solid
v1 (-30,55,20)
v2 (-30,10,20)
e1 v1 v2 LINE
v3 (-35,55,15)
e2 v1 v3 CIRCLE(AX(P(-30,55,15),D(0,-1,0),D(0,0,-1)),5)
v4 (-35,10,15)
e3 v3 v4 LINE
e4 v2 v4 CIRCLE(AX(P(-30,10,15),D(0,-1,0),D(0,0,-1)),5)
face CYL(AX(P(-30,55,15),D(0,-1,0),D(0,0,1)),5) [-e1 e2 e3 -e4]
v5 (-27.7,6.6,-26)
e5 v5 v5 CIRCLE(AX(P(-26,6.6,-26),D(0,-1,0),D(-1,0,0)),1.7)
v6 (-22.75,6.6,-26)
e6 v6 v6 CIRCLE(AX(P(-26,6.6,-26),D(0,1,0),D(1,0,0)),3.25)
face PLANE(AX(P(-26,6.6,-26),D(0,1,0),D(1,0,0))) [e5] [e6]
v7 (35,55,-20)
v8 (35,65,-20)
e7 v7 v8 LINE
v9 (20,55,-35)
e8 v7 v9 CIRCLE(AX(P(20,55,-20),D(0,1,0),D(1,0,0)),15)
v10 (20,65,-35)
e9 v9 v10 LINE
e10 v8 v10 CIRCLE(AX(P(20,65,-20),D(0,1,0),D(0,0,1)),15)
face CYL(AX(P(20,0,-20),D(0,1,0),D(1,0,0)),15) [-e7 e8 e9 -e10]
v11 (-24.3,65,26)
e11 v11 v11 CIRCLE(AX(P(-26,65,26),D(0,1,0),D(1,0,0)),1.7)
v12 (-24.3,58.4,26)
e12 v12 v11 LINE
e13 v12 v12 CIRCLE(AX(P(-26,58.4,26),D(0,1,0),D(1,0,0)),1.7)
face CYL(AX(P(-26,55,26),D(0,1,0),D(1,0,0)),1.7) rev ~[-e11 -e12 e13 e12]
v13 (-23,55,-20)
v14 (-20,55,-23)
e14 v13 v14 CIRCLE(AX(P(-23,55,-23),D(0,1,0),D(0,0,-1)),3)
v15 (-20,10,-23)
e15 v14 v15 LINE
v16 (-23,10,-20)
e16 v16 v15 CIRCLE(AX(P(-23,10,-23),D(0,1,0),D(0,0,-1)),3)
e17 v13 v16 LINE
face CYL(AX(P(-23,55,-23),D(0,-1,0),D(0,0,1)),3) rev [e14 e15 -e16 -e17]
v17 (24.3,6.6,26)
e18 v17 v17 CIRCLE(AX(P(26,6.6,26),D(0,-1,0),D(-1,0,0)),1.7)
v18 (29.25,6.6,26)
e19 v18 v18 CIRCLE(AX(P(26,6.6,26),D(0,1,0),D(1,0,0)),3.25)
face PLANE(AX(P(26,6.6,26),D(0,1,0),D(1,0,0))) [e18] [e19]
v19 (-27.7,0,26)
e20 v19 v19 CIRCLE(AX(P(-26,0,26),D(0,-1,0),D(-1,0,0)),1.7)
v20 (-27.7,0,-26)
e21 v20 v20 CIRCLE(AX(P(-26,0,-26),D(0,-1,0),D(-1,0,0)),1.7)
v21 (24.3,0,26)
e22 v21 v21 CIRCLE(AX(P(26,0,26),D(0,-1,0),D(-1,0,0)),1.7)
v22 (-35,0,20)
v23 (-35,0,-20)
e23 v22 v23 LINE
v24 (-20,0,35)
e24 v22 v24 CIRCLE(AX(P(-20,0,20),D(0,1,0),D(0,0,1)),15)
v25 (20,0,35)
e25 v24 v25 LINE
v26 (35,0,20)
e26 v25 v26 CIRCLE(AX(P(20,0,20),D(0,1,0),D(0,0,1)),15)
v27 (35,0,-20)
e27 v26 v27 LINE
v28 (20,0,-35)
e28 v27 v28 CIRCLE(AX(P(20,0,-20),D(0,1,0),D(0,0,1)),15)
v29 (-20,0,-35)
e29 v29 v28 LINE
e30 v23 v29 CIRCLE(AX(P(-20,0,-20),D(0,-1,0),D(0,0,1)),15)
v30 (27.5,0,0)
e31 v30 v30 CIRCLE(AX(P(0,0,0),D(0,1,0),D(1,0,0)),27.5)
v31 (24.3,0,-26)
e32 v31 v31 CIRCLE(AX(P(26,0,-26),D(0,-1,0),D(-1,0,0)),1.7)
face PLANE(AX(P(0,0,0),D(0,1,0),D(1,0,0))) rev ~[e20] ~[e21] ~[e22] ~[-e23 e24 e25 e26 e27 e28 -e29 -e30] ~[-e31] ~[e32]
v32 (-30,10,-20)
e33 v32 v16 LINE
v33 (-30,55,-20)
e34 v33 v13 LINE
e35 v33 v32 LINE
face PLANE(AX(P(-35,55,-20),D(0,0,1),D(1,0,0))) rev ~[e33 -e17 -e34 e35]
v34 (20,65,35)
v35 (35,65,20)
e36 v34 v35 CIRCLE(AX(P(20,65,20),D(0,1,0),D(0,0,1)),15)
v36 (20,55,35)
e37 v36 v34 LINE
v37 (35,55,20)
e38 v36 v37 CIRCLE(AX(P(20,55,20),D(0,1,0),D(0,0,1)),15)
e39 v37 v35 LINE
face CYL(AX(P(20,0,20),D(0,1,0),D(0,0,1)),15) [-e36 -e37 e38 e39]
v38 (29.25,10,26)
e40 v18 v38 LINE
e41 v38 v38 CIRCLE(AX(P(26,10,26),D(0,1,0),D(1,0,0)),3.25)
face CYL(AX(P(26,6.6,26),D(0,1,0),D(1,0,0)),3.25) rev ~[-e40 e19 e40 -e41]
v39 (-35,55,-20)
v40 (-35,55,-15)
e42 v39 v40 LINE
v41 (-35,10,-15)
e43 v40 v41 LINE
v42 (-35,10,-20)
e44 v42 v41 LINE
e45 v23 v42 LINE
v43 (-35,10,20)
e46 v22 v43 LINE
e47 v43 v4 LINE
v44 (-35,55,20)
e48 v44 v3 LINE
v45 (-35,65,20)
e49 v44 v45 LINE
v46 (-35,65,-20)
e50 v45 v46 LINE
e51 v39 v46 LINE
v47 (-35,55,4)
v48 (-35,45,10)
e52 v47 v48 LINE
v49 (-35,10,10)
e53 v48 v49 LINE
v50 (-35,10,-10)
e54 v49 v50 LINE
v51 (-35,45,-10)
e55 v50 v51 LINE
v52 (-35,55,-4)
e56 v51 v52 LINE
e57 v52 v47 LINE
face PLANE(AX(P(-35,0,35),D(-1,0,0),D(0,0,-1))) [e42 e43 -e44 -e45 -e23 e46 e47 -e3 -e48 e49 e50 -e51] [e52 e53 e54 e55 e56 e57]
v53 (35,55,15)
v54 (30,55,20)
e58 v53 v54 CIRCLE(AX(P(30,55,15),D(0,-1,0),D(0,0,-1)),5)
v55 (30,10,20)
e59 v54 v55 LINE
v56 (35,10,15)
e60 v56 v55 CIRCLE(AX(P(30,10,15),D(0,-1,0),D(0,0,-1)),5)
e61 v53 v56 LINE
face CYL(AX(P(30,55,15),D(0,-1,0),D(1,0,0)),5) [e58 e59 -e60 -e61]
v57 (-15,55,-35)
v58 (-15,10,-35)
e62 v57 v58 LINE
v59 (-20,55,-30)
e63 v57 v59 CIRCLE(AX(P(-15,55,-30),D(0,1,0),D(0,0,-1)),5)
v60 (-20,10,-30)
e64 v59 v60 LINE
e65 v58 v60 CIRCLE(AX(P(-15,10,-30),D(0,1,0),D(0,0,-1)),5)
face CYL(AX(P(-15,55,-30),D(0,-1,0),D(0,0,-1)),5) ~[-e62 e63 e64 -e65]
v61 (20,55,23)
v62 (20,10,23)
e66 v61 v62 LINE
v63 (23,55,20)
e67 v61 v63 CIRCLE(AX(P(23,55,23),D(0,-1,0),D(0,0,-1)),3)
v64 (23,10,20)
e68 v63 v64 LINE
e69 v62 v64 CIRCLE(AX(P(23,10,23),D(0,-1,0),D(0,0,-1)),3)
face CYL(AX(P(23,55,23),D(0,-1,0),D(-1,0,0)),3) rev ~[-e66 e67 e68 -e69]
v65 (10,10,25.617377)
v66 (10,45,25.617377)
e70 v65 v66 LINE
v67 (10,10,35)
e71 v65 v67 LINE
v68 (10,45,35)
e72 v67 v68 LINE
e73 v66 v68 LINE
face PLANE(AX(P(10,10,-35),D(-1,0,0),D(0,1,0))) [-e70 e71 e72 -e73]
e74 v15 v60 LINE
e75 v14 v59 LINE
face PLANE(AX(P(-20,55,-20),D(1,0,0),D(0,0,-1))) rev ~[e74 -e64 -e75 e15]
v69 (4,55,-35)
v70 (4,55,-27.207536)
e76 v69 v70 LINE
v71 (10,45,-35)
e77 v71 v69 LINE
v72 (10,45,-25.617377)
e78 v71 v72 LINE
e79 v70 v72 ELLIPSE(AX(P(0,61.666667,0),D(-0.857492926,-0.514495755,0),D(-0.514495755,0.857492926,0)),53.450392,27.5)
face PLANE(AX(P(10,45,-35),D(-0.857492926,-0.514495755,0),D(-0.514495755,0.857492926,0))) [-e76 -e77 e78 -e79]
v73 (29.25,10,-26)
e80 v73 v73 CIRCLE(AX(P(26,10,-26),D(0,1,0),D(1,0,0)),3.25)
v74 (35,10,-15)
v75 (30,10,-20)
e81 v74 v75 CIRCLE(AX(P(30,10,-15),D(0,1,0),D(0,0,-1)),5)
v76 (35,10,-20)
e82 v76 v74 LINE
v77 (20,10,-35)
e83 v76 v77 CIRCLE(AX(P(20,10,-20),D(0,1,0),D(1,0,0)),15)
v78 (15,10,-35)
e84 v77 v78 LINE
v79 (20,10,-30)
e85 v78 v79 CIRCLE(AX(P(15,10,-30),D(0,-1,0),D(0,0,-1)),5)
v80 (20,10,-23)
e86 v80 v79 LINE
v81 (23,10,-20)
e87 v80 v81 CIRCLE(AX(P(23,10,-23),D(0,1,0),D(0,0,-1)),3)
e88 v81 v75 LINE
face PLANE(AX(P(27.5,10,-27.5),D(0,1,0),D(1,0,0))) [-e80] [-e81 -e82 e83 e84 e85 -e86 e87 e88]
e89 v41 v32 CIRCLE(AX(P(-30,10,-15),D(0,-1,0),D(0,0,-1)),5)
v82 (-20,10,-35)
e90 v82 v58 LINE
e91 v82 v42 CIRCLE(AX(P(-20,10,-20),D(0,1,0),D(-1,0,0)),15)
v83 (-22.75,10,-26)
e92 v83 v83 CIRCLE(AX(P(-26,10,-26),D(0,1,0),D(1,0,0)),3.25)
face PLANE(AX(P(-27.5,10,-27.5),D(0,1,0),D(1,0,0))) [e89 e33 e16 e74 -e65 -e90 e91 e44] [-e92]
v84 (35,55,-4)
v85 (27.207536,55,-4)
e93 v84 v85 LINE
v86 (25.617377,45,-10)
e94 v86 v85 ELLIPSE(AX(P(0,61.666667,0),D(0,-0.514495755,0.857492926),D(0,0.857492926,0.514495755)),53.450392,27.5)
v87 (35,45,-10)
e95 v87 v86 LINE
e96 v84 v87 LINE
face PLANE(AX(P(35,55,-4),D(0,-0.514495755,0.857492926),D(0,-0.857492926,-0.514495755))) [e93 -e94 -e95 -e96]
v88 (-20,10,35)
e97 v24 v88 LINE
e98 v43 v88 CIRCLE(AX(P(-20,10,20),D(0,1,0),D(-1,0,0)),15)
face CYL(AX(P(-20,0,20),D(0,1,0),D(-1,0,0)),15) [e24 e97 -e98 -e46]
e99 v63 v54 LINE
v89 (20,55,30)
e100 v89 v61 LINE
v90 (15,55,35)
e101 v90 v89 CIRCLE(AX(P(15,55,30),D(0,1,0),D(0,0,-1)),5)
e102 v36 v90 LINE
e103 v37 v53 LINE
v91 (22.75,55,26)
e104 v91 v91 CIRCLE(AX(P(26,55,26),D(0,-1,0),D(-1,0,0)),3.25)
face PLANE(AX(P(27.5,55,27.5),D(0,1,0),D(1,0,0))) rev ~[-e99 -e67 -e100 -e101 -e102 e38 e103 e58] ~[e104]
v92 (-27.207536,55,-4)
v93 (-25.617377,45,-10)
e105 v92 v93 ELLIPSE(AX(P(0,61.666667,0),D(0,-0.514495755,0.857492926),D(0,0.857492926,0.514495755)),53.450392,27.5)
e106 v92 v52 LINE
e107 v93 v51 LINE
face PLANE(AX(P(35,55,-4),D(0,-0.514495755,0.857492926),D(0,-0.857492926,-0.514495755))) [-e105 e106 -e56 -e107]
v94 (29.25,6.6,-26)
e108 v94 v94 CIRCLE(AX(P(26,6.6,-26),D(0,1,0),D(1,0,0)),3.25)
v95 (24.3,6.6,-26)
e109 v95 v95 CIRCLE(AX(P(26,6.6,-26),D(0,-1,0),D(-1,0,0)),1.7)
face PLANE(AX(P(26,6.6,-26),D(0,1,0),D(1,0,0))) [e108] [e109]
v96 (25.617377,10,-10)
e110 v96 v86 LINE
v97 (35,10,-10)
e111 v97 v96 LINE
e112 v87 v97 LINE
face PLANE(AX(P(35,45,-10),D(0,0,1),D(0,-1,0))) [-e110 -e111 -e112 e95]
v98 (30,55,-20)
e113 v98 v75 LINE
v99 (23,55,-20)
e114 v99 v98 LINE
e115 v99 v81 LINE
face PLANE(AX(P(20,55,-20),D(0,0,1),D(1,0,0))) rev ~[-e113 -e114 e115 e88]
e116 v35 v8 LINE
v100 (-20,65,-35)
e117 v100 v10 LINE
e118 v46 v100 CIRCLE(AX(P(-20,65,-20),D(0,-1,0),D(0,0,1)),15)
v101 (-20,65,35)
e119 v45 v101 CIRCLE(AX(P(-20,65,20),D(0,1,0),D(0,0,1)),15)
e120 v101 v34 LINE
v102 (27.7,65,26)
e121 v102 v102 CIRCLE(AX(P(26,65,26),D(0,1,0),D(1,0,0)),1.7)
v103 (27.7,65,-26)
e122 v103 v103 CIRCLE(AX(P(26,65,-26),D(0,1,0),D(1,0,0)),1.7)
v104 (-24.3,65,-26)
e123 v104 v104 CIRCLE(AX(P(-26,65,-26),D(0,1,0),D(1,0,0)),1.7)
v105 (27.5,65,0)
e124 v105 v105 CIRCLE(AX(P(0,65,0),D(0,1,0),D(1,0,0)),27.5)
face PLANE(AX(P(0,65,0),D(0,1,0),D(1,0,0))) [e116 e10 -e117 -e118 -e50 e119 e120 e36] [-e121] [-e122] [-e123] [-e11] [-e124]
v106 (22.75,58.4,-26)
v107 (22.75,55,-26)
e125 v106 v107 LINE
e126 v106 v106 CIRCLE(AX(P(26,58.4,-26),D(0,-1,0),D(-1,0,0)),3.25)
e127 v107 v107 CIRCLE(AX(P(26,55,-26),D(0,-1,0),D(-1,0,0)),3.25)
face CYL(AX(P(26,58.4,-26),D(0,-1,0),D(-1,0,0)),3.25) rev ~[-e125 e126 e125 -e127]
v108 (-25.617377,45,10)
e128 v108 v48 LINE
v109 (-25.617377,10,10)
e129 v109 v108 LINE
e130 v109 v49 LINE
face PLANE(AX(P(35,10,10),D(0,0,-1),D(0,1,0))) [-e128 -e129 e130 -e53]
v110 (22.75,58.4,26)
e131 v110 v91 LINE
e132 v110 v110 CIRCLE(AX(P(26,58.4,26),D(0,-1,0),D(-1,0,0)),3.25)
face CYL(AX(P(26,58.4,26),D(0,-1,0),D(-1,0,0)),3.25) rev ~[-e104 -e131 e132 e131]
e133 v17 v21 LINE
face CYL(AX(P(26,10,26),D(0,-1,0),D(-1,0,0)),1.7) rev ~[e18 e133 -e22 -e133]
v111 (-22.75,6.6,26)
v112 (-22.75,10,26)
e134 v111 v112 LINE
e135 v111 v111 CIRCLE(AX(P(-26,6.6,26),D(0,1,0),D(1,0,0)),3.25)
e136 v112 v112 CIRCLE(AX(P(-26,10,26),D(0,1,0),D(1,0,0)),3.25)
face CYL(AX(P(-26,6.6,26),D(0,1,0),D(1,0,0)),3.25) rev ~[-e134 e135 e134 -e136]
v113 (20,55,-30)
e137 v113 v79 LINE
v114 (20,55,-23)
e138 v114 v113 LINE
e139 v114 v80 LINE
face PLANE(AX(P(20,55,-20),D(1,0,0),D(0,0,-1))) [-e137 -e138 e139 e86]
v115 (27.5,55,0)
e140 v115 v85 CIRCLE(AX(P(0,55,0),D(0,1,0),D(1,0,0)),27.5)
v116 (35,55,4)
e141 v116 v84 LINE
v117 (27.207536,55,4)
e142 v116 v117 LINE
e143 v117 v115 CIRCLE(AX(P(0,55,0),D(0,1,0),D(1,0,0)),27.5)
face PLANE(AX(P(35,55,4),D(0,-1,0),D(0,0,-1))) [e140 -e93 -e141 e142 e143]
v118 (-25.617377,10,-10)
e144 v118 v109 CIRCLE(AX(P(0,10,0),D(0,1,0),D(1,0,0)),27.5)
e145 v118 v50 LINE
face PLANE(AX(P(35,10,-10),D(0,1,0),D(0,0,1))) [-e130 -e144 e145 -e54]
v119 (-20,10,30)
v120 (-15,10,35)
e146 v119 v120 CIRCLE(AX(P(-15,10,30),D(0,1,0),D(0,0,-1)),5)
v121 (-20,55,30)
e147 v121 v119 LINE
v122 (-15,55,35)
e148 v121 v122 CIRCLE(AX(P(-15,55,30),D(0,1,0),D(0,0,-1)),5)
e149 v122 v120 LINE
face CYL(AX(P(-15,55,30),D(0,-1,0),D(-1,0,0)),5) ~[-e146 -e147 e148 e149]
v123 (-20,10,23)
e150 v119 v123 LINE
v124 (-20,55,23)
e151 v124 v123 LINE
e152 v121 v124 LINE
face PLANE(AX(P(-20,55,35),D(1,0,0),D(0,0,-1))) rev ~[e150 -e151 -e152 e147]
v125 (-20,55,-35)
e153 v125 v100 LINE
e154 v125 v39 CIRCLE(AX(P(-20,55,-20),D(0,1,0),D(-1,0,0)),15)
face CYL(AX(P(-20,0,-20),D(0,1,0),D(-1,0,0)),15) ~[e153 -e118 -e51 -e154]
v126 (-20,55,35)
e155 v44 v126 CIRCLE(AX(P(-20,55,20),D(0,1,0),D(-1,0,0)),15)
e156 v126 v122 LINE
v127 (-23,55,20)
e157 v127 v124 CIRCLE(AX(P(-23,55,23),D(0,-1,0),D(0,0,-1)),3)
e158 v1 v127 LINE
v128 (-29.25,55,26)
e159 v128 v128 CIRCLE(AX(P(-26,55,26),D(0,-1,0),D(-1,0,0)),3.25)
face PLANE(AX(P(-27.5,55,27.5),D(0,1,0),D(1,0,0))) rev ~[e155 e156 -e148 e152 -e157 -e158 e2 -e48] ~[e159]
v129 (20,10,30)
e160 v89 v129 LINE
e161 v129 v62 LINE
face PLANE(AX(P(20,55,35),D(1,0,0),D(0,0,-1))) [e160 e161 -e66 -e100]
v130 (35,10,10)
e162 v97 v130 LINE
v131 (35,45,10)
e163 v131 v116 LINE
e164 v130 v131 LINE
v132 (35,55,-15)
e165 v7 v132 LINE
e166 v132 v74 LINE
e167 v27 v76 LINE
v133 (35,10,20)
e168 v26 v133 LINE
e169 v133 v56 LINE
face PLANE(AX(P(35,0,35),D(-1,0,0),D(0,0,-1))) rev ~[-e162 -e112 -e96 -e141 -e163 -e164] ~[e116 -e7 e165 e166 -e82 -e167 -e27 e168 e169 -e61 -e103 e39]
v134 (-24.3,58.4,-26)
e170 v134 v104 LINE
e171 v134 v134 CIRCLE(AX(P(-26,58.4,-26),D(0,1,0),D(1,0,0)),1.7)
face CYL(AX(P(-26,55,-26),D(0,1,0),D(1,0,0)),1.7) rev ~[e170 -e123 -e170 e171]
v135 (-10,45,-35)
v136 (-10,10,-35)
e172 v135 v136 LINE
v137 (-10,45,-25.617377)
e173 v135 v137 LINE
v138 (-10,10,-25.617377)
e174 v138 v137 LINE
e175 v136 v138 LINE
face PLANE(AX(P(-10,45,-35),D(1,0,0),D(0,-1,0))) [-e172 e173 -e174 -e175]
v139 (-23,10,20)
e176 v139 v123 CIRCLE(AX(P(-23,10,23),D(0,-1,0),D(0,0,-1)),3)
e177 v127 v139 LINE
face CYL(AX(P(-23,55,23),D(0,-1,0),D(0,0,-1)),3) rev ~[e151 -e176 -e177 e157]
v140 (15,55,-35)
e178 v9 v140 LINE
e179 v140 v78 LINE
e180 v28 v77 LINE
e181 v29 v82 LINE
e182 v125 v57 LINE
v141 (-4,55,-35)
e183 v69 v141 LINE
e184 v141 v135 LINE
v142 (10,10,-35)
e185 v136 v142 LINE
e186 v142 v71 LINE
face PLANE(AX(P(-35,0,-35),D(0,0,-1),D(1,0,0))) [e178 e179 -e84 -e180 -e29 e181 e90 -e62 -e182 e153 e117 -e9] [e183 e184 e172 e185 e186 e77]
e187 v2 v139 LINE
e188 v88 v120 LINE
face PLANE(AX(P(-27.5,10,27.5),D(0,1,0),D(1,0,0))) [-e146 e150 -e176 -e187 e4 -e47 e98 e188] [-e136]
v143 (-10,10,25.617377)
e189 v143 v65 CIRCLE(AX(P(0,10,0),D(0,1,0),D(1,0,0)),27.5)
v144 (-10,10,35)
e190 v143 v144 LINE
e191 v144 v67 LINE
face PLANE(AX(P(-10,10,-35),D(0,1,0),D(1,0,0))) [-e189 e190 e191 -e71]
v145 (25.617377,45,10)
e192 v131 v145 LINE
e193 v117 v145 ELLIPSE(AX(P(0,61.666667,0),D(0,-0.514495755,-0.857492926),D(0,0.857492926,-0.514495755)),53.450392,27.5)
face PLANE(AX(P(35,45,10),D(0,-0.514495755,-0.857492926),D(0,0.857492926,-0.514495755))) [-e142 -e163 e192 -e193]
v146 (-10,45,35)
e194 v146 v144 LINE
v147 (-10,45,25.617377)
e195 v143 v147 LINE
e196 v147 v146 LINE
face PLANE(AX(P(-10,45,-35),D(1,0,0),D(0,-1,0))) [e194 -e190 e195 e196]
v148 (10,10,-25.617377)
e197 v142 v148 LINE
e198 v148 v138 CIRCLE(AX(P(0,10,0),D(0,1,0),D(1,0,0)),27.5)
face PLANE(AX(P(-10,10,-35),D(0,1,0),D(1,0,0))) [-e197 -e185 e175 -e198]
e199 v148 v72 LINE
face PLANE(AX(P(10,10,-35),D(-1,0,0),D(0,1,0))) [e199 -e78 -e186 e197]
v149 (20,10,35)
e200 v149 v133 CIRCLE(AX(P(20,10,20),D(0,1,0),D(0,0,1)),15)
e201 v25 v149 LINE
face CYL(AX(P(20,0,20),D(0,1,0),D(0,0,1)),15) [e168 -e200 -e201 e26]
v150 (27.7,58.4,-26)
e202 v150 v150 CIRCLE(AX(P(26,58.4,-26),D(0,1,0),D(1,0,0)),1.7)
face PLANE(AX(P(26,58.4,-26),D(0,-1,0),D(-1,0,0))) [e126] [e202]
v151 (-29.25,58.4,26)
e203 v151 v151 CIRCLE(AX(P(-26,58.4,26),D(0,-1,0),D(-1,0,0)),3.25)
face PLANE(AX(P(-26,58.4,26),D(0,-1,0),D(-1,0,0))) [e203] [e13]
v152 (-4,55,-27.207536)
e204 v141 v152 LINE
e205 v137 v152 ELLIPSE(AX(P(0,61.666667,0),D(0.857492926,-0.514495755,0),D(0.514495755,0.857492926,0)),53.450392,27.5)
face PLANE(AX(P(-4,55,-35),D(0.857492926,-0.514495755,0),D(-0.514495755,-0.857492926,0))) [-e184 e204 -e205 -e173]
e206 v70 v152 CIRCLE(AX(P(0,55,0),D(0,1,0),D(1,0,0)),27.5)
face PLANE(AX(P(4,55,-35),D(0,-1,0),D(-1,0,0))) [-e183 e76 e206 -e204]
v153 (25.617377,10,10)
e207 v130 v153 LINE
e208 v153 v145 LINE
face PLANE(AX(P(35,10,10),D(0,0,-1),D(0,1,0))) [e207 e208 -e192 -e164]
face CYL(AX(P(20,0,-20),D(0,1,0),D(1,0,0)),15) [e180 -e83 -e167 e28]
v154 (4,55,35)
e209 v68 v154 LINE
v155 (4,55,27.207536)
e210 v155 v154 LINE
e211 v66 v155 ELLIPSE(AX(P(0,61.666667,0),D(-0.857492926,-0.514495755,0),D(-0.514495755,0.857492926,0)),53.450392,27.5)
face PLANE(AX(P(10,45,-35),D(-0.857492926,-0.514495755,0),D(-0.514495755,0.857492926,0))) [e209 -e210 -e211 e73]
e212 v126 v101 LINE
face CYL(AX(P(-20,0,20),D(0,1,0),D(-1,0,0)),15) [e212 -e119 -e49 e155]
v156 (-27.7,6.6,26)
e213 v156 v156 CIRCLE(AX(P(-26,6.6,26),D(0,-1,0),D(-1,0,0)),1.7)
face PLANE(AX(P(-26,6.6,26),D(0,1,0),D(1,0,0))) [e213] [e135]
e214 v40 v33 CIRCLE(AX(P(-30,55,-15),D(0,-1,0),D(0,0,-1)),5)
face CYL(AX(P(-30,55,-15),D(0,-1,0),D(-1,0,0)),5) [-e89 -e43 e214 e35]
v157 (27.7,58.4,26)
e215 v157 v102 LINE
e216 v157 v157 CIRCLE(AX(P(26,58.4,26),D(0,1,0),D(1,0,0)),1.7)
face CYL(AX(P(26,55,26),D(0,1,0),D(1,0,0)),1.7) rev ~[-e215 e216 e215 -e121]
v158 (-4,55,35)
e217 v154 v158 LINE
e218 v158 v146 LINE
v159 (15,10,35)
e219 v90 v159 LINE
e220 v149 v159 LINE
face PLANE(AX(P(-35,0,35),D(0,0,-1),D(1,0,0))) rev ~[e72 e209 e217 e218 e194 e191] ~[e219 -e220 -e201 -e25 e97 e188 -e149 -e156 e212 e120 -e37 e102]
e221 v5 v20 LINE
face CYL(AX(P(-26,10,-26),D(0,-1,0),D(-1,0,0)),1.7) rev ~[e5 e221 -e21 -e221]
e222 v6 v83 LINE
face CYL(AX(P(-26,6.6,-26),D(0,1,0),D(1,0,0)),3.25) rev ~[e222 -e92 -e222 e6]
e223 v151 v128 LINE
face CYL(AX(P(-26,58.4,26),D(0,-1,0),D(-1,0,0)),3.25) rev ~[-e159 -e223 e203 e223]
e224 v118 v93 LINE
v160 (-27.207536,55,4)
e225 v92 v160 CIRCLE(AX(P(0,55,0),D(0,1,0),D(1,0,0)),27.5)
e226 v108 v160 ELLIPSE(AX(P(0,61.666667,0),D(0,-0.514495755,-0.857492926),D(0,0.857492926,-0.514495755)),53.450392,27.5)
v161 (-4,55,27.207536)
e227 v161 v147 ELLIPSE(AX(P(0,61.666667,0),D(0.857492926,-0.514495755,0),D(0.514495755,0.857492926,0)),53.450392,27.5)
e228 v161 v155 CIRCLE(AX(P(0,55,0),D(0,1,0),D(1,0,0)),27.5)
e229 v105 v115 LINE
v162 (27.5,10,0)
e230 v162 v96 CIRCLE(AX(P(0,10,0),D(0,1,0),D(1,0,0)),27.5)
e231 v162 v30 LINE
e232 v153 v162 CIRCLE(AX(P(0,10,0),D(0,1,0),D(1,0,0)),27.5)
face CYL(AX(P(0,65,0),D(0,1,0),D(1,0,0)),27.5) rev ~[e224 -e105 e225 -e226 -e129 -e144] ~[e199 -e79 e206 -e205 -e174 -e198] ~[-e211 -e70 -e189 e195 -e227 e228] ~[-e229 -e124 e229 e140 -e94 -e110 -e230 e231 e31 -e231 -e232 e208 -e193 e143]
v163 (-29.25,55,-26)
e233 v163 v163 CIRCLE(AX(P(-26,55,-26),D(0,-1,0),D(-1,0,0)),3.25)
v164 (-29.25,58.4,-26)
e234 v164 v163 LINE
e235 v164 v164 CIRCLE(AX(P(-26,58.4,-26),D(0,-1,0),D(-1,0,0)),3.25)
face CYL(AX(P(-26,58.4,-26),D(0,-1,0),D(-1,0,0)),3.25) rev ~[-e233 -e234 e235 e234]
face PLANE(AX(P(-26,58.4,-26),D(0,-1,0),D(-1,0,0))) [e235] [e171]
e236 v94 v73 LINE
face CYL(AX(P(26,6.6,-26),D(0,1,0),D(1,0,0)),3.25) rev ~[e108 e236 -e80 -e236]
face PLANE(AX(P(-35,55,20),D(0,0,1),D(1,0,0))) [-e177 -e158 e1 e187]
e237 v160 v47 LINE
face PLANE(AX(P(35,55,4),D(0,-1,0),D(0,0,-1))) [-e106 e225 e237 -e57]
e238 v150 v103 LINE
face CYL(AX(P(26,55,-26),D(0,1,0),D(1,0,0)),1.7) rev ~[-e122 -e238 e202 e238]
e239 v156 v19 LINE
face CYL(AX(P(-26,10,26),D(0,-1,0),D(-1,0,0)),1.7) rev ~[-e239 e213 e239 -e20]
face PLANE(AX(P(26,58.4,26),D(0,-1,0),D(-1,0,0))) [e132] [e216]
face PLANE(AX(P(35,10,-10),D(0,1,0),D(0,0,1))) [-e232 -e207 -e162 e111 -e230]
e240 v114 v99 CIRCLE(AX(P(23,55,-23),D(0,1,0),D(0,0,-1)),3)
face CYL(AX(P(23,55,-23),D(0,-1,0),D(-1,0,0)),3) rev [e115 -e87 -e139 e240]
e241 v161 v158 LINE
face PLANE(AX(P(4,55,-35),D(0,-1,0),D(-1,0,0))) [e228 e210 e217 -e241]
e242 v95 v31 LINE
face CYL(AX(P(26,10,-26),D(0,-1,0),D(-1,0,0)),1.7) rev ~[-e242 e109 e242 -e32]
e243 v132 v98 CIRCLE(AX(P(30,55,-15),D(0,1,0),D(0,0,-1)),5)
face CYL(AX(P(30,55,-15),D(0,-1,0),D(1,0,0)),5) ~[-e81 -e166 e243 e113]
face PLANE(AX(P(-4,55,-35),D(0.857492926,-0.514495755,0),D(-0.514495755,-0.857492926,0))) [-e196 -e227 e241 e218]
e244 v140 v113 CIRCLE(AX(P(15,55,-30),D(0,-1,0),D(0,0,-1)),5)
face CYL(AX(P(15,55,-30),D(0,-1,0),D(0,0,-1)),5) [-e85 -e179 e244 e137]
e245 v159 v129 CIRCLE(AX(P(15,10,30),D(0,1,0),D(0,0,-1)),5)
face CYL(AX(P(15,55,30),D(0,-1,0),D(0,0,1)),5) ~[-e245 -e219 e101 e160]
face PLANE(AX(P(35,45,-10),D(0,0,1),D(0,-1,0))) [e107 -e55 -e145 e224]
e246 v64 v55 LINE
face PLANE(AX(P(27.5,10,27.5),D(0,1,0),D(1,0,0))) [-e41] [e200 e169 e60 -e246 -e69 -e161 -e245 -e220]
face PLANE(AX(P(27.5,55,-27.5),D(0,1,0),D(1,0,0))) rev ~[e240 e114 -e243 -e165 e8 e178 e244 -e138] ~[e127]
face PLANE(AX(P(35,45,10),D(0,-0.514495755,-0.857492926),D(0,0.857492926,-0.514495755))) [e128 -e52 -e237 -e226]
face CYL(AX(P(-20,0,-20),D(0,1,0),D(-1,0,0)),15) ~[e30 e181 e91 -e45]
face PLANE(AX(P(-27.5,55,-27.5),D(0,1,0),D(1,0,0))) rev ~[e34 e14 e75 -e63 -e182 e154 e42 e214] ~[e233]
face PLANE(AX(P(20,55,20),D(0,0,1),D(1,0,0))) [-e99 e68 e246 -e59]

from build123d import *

# Parameters (mm, degrees)
SKETCH1_W                                           = 70
SKETCH1_H                                           = 70
BOSS_EXTRUDE1_DEPTH                                 = 65
FILLET1_R                                           = 15
SKETCH2_R                                           = 27.5
CUT_EXTRUDE1_DEPTH                                  = 65
CUT_EXTRUDE2_DEPTH                                  = 71
CUT_EXTRUDE3_DEPTH                                  = 71
CUT_EXTRUDE4_START                                  = -10
SKETCH10_W                                          = 15
SKETCH10_H                                          = 15
CUT_EXTRUDE4_DEPTH                                  = 45
CBORE_FOR_M3_HEX_SOCKET_HEAD_CAP_SCREW1_D           = 3.4
CBORE_FOR_M3_HEX_SOCKET_HEAD_CAP_SCREW1_DEPTH       = 10
CBORE_FOR_M3_HEX_SOCKET_HEAD_CAP_SCREW1_CBORE_D     = 6.5
CBORE_FOR_M3_HEX_SOCKET_HEAD_CAP_SCREW1_CBORE_DEPTH = 3.4
FILLET2_R                                           = 3
CBORE_FOR_M3_HEX_SOCKET_HEAD_CAP_SCREW2_D           = 3.4
CBORE_FOR_M3_HEX_SOCKET_HEAD_CAP_SCREW2_DEPTH       = 10
CBORE_FOR_M3_HEX_SOCKET_HEAD_CAP_SCREW2_CBORE_D     = 6.5
CBORE_FOR_M3_HEX_SOCKET_HEAD_CAP_SCREW2_CBORE_DEPTH = 3.4
FILLET3_R                                           = 5


with BuildPart() as part:
    # Sketch1 → Boss-Extrude1 (new body)
    with BuildSketch(Plane(origin=(0, 0, 0), x_dir=(1, 0, 0), z_dir=(0, 1, 0))):
        Rectangle(SKETCH1_W, SKETCH1_H)
    extrude(amount=BOSS_EXTRUDE1_DEPTH)

    # Fillet1
    fillet1_edges = [part.edges().sort_by_distance(p)[0] for p in [
        (-35, 32.5, -35),
        (35, 32.5, -35),
        (35, 32.5, 35),
        (-35, 32.5, 35),
    ]]
    fillet(fillet1_edges, radius=FILLET1_R)

    # Sketch2 → Cut-Extrude1 (cut)
    with BuildSketch(Plane(origin=(0, 65, 0), x_dir=(1, 0, 0), z_dir=(0, 1, 0))):
        Circle(SKETCH2_R)
    extrude(amount=-CUT_EXTRUDE1_DEPTH, mode=Mode.SUBTRACT)

    # Sketch3 → Cut-Extrude2 (cut, through all)
    with BuildSketch(Plane(origin=(0, 0, -35), x_dir=(-1, 0, 0), z_dir=(0, 0, -1))):
        Polygon((-10, 10), (-10, 45), (-4, 55), (4, 55), (10, 45), (10, 10), align=None)
    extrude(amount=-CUT_EXTRUDE2_DEPTH, mode=Mode.SUBTRACT)

    # Sketch4 → Cut-Extrude3 (cut, through all)
    with BuildSketch(Plane(origin=(35, 0, 0), x_dir=(0, 0, -1), z_dir=(1, 0, 0))):
        Polygon((-10, 10), (-10, 45), (-4, 55), (4, 55), (10, 45), (10, 10), align=None)
    extrude(amount=-CUT_EXTRUDE3_DEPTH, mode=Mode.SUBTRACT)

    # Sketch10 → Cut-Extrude4 (cut)
    with BuildSketch(Plane(origin=(0, 65, 0), x_dir=(1, 0, 0), z_dir=(0, 1, 0)).offset(CUT_EXTRUDE4_START)):
        with Locations((-27.5, 27.5)):
            Rectangle(SKETCH10_W, SKETCH10_H)
        with Locations((-27.5, -27.5)):
            Rectangle(SKETCH10_W, SKETCH10_H)
        with Locations((27.5, -27.5)):
            Rectangle(SKETCH10_W, SKETCH10_H)
        with Locations((27.5, 27.5)):
            Rectangle(SKETCH10_W, SKETCH10_H)
    extrude(amount=-CUT_EXTRUDE4_DEPTH, mode=Mode.SUBTRACT)

    # CBORE for M3 Hex Socket Head Cap Screw1
    with Locations(Plane(origin=(0, 55, 0), x_dir=(-1, 0, 0), z_dir=(0, -1, 0))):
        with Locations((26, -26), (-26, -26), (-26, 26), (26, 26)):
            CounterBoreHole(CBORE_FOR_M3_HEX_SOCKET_HEAD_CAP_SCREW1_D / 2, CBORE_FOR_M3_HEX_SOCKET_HEAD_CAP_SCREW1_CBORE_D / 2, CBORE_FOR_M3_HEX_SOCKET_HEAD_CAP_SCREW1_CBORE_DEPTH, depth=CBORE_FOR_M3_HEX_SOCKET_HEAD_CAP_SCREW1_DEPTH)

    # Fillet2
    fillet2_edges = [part.edges().sort_by_distance(p)[0] for p in [
        (20, 32.5, -20),
        (20, 32.5, 20),
        (-20, 32.5, 20),
        (-20, 32.5, -20),
    ]]
    fillet(fillet2_edges, radius=FILLET2_R)

    # CBORE for M3 Hex Socket Head Cap Screw2
    with Locations(Plane(origin=(0, 10, 0), x_dir=(1, 0, 0), z_dir=(0, 1, 0))):
        with Locations((26, -26), (26, 26), (-26, 26), (-26, -26)):
            CounterBoreHole(CBORE_FOR_M3_HEX_SOCKET_HEAD_CAP_SCREW2_D / 2, CBORE_FOR_M3_HEX_SOCKET_HEAD_CAP_SCREW2_CBORE_D / 2, CBORE_FOR_M3_HEX_SOCKET_HEAD_CAP_SCREW2_CBORE_DEPTH, depth=CBORE_FOR_M3_HEX_SOCKET_HEAD_CAP_SCREW2_DEPTH)

    # Fillet3
    fillet3_edges = [part.edges().sort_by_distance(p)[0] for p in [
        (35, 32.5, -20),
        (20, 32.5, -35),
        (35, 32.5, 20),
        (20, 32.5, 35),
        (-35, 32.5, 20),
        (-20, 32.5, 35),
        (-20, 32.5, -35),
        (-35, 32.5, -20),
    ]]
    fillet(fillet3_edges, radius=FILLET3_R)


solid = part.part
